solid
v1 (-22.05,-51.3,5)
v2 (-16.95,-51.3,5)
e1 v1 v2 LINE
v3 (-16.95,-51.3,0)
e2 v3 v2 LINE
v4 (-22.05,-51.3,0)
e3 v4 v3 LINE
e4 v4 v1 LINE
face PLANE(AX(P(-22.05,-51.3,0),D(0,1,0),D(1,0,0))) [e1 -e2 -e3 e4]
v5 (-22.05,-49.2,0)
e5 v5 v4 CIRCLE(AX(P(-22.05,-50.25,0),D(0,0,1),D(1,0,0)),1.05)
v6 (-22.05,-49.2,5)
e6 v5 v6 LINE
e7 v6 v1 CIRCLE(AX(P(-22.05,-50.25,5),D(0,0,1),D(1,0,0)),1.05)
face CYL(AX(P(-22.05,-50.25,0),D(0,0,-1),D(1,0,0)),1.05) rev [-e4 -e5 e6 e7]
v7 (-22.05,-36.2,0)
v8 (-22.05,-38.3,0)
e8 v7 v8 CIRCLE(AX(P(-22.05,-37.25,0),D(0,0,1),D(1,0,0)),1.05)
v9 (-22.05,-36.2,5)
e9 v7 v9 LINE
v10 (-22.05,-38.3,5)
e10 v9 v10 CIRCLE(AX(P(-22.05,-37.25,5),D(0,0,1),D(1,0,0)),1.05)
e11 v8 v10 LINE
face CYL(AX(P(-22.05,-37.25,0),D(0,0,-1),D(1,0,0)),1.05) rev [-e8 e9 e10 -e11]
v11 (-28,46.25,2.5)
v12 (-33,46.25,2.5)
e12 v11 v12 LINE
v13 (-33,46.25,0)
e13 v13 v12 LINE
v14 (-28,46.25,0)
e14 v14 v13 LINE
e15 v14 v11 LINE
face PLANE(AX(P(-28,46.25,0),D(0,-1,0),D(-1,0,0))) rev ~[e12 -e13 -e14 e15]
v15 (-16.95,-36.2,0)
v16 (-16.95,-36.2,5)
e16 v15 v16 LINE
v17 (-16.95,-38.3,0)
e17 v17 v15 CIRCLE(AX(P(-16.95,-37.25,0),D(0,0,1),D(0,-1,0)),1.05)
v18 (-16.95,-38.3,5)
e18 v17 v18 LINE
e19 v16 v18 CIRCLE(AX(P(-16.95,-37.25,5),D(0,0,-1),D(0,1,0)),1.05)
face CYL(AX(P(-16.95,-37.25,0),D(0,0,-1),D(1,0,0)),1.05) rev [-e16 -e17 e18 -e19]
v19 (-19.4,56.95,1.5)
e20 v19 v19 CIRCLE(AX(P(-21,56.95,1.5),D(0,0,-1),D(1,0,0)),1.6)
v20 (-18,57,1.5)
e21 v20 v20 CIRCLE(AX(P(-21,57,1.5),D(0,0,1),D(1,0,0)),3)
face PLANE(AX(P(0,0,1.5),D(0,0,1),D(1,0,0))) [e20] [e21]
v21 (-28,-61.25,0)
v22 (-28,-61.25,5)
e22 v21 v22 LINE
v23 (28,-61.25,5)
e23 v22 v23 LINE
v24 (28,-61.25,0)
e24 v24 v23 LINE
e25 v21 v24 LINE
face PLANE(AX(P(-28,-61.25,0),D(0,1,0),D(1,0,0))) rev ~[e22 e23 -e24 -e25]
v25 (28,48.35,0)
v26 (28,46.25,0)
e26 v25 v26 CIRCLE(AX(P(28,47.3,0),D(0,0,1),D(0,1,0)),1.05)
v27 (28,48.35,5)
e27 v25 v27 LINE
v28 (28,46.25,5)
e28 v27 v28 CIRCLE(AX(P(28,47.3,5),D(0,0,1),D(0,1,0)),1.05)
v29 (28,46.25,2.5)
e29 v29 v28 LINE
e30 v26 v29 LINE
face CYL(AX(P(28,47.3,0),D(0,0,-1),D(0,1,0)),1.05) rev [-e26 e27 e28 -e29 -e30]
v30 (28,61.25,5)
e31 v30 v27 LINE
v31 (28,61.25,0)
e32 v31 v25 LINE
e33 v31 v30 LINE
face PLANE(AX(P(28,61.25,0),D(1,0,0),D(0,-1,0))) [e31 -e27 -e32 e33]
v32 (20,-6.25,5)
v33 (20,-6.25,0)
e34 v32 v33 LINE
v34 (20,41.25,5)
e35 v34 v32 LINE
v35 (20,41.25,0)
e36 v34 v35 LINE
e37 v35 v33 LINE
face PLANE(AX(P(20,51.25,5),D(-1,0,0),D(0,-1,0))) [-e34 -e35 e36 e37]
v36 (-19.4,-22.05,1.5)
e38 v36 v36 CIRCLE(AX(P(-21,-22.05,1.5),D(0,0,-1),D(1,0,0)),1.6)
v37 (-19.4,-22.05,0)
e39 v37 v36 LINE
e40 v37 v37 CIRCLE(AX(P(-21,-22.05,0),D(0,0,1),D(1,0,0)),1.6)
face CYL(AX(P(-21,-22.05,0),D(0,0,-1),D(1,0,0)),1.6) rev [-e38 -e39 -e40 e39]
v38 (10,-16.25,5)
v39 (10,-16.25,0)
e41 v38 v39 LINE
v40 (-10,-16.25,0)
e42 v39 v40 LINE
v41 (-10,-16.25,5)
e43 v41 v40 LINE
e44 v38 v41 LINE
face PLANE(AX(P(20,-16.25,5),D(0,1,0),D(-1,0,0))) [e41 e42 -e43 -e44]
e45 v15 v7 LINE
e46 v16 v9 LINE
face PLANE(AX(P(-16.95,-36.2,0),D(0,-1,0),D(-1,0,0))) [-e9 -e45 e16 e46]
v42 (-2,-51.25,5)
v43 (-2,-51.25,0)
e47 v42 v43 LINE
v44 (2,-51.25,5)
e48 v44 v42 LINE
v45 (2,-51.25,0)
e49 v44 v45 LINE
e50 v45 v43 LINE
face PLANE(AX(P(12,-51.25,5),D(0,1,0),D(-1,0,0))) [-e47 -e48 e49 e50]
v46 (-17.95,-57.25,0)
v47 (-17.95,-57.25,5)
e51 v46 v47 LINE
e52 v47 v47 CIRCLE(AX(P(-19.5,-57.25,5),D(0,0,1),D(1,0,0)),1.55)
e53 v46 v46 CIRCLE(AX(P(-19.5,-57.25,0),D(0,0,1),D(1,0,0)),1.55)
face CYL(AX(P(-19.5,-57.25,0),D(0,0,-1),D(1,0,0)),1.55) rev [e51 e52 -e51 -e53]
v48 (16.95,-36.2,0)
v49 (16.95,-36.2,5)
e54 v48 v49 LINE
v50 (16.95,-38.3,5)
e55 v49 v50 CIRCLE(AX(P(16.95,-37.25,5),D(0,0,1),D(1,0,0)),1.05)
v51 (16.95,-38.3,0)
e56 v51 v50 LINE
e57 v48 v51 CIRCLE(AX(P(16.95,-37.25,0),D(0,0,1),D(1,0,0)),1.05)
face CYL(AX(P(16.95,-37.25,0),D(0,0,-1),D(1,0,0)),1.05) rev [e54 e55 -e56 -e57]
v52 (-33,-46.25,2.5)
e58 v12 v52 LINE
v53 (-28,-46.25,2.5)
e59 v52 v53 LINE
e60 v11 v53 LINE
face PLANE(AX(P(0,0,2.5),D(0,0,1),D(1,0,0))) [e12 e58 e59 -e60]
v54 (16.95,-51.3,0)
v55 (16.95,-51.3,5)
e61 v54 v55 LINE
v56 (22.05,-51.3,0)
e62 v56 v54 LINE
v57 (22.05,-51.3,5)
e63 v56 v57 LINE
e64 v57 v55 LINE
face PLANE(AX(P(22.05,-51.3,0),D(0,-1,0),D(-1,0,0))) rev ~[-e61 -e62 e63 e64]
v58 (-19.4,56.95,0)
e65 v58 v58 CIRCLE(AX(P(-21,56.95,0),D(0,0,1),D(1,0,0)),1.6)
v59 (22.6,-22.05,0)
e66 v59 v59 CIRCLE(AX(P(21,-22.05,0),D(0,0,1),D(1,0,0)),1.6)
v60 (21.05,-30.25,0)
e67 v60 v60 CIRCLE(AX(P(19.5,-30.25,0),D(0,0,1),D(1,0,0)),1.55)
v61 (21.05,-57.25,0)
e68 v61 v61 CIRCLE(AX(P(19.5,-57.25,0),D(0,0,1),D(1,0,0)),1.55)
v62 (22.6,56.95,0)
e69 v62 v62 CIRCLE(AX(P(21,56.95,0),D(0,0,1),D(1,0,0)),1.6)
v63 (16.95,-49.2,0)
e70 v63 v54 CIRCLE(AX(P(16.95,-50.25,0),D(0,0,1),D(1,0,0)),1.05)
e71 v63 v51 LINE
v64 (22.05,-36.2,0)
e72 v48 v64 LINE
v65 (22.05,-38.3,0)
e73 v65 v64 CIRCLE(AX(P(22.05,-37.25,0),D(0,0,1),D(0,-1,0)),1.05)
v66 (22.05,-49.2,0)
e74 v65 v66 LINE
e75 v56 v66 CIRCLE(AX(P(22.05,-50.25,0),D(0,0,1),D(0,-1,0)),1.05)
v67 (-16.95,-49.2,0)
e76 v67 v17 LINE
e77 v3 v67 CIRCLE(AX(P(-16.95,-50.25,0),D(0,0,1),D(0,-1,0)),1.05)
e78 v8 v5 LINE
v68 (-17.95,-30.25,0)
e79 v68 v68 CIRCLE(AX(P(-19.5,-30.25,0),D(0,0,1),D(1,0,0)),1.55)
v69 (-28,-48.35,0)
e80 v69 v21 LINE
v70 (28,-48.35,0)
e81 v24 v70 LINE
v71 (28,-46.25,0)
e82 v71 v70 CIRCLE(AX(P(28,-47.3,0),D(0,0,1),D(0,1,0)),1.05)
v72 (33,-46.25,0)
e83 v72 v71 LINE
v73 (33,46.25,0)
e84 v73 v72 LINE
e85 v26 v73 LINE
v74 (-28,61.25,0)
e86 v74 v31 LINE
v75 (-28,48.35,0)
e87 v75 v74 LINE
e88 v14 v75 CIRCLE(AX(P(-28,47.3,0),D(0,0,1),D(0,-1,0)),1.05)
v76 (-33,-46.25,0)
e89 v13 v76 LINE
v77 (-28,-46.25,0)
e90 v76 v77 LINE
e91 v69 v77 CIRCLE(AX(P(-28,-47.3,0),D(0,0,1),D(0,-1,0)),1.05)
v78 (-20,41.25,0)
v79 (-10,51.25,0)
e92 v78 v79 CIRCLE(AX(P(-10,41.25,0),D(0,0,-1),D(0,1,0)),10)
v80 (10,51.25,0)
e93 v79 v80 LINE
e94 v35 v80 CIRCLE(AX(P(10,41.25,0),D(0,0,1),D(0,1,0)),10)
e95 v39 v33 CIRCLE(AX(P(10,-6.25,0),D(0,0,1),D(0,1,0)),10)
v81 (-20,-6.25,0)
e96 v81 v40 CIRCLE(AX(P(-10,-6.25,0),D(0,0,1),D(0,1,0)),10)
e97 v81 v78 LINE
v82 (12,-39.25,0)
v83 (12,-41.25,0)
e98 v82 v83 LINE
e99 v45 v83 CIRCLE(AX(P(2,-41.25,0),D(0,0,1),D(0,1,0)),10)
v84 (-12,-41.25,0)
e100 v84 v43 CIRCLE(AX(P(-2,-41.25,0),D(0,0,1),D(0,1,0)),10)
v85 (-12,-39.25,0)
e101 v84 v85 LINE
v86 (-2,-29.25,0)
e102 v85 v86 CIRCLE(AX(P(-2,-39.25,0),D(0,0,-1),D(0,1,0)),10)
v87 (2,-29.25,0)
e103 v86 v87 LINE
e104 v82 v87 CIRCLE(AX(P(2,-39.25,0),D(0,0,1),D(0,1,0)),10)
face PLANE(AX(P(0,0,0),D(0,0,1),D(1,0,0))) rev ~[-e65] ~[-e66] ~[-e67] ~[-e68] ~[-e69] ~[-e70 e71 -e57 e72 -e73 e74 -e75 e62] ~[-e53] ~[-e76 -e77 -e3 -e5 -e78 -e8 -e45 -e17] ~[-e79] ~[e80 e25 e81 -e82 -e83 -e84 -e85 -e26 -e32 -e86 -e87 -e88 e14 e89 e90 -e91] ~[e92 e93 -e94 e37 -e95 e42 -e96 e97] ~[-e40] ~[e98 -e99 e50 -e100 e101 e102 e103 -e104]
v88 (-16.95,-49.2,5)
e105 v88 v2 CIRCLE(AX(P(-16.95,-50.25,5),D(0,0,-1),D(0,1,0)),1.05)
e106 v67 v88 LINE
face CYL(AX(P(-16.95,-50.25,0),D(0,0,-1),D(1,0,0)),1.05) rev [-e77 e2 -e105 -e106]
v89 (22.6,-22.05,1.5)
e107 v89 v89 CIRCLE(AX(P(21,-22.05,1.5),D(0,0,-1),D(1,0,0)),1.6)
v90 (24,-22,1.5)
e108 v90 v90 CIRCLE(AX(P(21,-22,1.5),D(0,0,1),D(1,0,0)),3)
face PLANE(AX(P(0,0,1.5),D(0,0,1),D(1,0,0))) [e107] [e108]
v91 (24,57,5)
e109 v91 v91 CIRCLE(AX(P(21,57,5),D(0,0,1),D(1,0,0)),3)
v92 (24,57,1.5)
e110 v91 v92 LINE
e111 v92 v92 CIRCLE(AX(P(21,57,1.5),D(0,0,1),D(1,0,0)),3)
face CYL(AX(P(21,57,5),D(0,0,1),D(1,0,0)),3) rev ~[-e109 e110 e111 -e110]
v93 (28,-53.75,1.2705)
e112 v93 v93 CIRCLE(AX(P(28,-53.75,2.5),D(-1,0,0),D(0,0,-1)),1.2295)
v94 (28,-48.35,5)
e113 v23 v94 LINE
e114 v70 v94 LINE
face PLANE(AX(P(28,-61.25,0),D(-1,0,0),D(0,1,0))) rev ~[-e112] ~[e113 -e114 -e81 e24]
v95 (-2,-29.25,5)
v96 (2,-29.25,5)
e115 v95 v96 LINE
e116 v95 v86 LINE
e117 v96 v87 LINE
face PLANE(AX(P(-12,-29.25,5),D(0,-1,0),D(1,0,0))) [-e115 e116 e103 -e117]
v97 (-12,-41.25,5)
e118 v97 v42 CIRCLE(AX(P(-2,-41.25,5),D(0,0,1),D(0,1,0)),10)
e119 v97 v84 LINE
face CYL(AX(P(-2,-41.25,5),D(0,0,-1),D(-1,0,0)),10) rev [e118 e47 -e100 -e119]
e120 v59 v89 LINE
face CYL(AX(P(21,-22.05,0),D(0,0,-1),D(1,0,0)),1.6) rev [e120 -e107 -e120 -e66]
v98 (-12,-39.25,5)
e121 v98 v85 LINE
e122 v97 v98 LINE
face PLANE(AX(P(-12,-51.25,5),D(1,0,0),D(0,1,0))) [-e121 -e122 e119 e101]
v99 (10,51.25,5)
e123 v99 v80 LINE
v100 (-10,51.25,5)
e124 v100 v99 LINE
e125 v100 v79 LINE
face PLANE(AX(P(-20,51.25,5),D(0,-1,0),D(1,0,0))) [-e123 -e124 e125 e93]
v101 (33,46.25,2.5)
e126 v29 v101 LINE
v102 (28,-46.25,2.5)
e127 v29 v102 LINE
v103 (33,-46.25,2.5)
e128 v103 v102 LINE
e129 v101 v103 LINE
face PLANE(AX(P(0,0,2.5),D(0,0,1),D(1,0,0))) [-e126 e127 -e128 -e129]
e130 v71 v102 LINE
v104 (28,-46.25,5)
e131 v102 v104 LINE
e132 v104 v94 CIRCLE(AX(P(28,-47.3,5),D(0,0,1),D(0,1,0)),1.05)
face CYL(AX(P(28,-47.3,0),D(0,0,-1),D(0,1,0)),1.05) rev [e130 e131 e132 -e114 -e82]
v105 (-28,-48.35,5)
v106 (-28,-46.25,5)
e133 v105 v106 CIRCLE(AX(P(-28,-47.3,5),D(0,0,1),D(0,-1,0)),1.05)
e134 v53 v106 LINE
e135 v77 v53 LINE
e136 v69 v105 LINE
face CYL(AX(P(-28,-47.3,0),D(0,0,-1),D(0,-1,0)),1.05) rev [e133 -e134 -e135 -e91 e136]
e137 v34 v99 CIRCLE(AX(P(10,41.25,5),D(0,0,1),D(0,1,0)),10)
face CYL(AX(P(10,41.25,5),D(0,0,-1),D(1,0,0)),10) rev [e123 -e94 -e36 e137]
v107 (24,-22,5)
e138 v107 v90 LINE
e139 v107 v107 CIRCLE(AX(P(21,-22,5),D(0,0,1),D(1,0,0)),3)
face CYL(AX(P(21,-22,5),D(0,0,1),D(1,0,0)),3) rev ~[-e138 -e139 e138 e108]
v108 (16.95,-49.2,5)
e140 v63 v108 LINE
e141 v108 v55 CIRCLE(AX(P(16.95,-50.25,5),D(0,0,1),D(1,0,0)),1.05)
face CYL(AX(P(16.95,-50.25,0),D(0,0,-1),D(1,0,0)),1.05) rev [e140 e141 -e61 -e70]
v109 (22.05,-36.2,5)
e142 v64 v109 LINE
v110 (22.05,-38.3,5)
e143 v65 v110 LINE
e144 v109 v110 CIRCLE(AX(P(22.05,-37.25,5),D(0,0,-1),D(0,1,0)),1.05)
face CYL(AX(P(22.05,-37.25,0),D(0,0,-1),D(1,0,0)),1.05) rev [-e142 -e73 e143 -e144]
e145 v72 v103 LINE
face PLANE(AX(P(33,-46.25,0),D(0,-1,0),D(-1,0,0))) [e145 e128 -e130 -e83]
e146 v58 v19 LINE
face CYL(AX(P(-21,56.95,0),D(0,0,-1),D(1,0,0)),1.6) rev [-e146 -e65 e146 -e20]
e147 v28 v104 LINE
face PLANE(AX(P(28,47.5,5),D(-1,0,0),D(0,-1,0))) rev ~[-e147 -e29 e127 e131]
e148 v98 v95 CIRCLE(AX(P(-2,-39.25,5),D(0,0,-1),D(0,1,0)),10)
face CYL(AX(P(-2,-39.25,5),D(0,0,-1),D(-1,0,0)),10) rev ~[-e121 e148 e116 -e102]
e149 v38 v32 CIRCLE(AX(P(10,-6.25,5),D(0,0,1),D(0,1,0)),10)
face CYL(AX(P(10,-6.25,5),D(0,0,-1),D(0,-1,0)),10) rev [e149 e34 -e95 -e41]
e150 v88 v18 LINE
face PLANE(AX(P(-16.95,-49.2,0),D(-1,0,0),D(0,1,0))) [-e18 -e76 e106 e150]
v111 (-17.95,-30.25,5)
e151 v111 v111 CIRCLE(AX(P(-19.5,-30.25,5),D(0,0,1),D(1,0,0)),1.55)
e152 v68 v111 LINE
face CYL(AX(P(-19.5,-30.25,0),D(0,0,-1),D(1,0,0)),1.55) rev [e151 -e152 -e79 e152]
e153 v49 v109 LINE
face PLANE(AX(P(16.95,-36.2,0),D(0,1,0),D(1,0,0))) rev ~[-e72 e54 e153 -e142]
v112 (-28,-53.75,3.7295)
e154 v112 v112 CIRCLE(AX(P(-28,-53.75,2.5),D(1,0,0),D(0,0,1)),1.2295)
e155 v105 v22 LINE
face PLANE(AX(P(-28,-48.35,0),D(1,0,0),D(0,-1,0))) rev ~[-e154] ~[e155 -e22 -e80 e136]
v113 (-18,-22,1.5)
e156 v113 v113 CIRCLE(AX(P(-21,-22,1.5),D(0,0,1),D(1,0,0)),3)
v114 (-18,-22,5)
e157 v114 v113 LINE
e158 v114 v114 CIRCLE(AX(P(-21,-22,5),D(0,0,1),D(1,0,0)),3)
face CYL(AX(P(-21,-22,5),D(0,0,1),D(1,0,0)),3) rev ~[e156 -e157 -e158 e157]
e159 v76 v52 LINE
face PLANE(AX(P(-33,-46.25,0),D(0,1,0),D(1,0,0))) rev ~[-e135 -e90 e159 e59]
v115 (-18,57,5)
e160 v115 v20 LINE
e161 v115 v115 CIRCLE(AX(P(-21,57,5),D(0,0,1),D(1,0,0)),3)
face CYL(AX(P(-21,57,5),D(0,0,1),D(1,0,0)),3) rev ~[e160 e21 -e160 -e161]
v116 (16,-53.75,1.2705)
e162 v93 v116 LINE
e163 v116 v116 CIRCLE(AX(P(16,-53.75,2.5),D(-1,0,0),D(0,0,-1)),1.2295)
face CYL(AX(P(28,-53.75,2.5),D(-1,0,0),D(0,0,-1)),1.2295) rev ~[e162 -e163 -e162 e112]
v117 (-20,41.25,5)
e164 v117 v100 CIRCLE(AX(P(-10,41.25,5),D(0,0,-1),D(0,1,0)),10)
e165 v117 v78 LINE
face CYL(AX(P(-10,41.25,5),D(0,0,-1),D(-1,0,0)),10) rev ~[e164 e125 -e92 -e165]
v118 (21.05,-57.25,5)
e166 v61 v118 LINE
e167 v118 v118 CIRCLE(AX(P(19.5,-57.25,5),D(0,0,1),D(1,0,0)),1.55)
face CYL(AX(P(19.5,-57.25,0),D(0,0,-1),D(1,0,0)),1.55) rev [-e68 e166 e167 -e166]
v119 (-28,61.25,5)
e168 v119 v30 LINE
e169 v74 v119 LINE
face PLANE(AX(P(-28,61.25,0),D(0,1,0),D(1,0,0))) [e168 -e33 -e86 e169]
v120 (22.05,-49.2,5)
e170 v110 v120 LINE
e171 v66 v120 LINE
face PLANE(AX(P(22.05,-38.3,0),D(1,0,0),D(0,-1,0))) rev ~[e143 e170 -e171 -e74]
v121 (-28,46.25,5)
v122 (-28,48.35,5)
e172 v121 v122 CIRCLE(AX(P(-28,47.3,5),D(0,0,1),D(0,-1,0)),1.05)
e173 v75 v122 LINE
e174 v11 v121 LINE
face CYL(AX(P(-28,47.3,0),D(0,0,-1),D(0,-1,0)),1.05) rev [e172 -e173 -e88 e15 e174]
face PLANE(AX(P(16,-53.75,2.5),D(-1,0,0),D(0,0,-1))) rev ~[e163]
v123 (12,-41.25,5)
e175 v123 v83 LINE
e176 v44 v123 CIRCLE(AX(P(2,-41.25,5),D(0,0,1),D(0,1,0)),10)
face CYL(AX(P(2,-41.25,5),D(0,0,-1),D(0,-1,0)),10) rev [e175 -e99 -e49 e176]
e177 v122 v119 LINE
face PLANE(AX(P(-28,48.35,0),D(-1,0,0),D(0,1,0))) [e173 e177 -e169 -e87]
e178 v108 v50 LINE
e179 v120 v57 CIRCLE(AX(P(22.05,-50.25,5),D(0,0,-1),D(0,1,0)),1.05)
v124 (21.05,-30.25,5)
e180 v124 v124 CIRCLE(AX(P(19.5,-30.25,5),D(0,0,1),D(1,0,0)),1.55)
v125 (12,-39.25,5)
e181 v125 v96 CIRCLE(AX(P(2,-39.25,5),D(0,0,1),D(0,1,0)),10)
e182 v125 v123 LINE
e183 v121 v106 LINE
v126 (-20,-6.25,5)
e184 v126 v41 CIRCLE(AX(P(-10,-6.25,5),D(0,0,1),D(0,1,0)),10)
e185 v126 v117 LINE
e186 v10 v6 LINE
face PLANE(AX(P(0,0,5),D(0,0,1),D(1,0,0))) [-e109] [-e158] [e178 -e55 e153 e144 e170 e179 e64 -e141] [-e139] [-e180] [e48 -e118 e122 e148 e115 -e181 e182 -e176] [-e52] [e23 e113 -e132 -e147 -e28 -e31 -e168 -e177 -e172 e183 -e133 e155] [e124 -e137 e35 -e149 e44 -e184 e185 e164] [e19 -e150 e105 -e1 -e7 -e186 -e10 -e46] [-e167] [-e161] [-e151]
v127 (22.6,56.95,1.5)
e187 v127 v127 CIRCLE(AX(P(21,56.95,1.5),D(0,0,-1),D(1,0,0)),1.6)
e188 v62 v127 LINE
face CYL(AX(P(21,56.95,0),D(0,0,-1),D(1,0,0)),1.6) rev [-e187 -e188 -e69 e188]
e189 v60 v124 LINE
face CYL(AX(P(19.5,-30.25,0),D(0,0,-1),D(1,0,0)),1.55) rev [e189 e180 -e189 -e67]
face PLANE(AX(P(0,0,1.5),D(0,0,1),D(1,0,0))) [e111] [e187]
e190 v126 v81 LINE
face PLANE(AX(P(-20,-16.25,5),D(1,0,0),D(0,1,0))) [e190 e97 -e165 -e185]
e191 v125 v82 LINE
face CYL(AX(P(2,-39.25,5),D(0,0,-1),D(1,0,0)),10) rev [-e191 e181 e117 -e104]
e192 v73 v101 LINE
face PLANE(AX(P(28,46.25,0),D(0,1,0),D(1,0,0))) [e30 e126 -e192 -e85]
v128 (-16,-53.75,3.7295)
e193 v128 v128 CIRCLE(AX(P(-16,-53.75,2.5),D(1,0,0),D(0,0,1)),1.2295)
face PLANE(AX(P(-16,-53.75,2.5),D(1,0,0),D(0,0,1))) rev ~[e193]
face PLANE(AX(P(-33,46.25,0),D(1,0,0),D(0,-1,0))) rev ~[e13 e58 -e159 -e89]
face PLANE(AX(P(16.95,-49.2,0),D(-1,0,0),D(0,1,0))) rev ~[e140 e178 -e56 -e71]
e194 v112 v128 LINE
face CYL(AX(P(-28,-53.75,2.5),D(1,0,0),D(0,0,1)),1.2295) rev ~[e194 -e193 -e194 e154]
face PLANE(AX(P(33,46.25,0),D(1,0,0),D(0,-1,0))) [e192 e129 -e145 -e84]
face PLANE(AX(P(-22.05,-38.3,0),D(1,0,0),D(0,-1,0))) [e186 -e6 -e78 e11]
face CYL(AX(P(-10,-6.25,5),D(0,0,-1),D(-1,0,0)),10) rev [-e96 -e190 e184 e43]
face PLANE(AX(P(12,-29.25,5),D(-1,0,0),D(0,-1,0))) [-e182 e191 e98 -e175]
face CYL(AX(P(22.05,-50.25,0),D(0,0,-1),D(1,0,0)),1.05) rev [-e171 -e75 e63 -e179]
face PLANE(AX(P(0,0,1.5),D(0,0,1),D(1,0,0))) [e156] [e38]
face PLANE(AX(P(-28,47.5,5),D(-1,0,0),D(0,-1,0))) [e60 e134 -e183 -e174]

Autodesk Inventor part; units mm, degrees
ref_plane "YZ Plane" through (0, 0, 0) normal (1, 0, 0) x (0, 1, 0)
ref_plane "XZ Plane" through (0, 0, 0) normal (0, 1, 0) x (-1, 0, 0)
ref_plane "XY Plane" through (0, 0, 0) normal (0, 0, 1) x (1, 0, 0)
sketch "スケッチ1" plane through (0, 0, 0) normal (0, 0, 1) x (1, 0, 0)
  line L0 (-28, -61.25) -> (28, -61.25) construction
  line L1 (28, -61.25) -> (28, 61.25) construction
  line L2 (28, 61.25) -> (-28, 61.25) construction
  line L3 (-28, 61.25) -> (-28, -61.25) construction
  line L4 (-28, -61.25) -> (28, 61.25) construction
  line L5 (28, -61.25) -> (-28, 61.25) construction
  line L6 (-28, 48.35) -> (-28, 61.25)
  line L7 (-28, 61.25) -> (28, 61.25)
  line L8 (28, 61.25) -> (28, 48.35)
  line L9 (-28, 46.25) -> (-33, 46.25)
  line L10 (-33, 46.25) -> (-33, -46.25)
  line L11 (-33, -46.25) -> (-28, -46.25)
  line L12 (-28, -48.35) -> (-28, -61.25)
  line L13 (-28, -61.25) -> (28, -61.25)
  line L14 (28, -61.25) -> (28, -48.35)
  line L15 (28, 46.25) -> (33, 46.25)
  line L16 (33, 46.25) -> (33, -46.25)
  line L17 (33, -46.25) -> (28, -46.25)
  arc A0 (-28, 46.25) -> (-28, 48.35) centre (-28, 47.3) ccw
  arc A1 (-28, -48.35) -> (-28, -46.25) centre (-28, -47.3) ccw
  arc A2 (28, -46.25) -> (28, -48.35) centre (28, -47.3) ccw
  line L18 (0, 0) -> (0, 61.25) construction
  line L19 (0, 0) -> (28, 0) construction
  arc A3 (28, 48.35) -> (28, 46.25) centre (28, 47.3) ccw
  line L20 (-21, 56.95) -> (21, 56.95) construction
  line L21 (21, 56.95) -> (21, -22.05) construction
  line L22 (21, -22.05) -> (-21, -22.05) construction
  line L23 (-21, -22.05) -> (-21, 56.95) construction
  line L24 (-21, 56.95) -> (21, -22.05) construction
  line L25 (21, 56.95) -> (-21, -22.05) construction
  circle A4 centre (-21, 56.95) radius 1.6
  circle A5 centre (-21, -22.05) radius 1.6
  circle A6 centre (21, -22.05) radius 1.6
  circle A7 centre (21, 56.95) radius 1.6
  line L26 (-22, -36.25) -> (-17, -36.25) construction
  line L27 (-17, -36.25) -> (-17, -51.25) construction
  line L28 (-17, -51.25) -> (-22, -51.25) construction
  line L29 (-22, -51.25) -> (-22, -36.25) construction
  circle A8 centre (-19.5, -30.25) radius 1.55
  circle A9 centre (-19.5, -57.25) radius 1.55
  line L30 (-17, -43.75) -> (-22, -43.75) construction
  line L31 (-22, -26.25) -> (-17, -26.25) construction
  line L32 (-17, -26.25) -> (-17, -61.25) construction
  line L33 (-17, -61.25) -> (-22, -61.25) construction
  line L34 (-22, -61.25) -> (-22, -26.25) construction
  circle A10 centre (-19.5, -57.25) radius 3 construction
  line L35 (-16.95, -36.2) -> (-22.05, -36.2)
  line L36 (-22.05, -36.2) -> (-22.05, -51.3)
  line L37 (-22.05, -51.3) -> (-16.95, -51.3)
  line L38 (-16.95, -51.3) -> (-16.95, -36.2)
  circle A11 centre (-22.05, -37.25) radius 1.05
  circle A12 centre (-16.95, -37.25) radius 1.05
  circle A13 centre (-22.05, -50.25) radius 1.05
  circle A14 centre (-16.95, -50.25) radius 1.05
  circle A15 centre (19.5, -30.25) radius 1.55
  circle A16 centre (19.5, -57.25) radius 1.55
  line L39 (16.95, -36.2) -> (22.05, -36.2)
  line L40 (22.05, -36.2) -> (22.05, -51.3)
  line L41 (22.05, -51.3) -> (16.95, -51.3)
  line L42 (16.95, -51.3) -> (16.95, -36.2)
  circle A17 centre (22.05, -37.25) radius 1.05
  circle A18 centre (16.95, -37.25) radius 1.05
  circle A19 centre (22.05, -50.25) radius 1.05
  circle A20 centre (16.95, -50.25) radius 1.05
  point P0 (0, 17.45)
  point P1 (0, 17.45)
  point P2 (0, 0)
  point P3 (-19.5, -43.75)
  point P4 (-19.5, -26.25)
  dimension "d93" = 2.1
  dimension "d9" = 56
  dimension "d12" = 122.5
  dimension "d13" = 15
  dimension "d39" = 15
  dimension "d40" = 1.05
  dimension "d41" = 5
  dimension "d52" = 3.2
  dimension "d53" = 42
  dimension "d54" = 79
  dimension "d55" = 4.3
  dimension "d73" = 35
  dimension "d83" = 5
  dimension "d87" = 3.1
  dimension "d88" = 10
  dimension "d89" = 27
  dimension "d90" = 6
  dimension "d91" = 22
  dimension "d92" = 0.05
extrude "押し出し1" add sketch "スケッチ1" along normal blind 5
sketch "スケッチ2" plane through (0, 0, 5) normal (0, 0, 1) x (1, 0, 0)
  line L0 (-28, 61.25) -> (-28, 48.35) projected
  line L1 (28, 61.25) -> (-28, 61.25) projected
  line L2 (-67.7785, 47.5) -> (-28, 47.5)
  line L3 (-28, 47.5) -> (-28, -47.5)
  line L4 (-28, -47.5) -> (-67.7785, -47.5)
  line L5 (-67.7785, -47.5) -> (-67.7785, 47.5)
  line L6 (67.7785, 47.5) -> (28, 47.5)
  line L7 (28, 47.5) -> (28, -47.5)
  line L8 (28, -47.5) -> (67.7785, -47.5)
  line L9 (67.7785, -47.5) -> (67.7785, 47.5)
  line L10 (0, 0) -> (0, 61.25) construction
  line L11 (0, 0) -> (33, 0) construction
  line L12 (33, 46.25) -> (33, -46.25) construction
  dimension "d106" = 95
extrude "押し出し2" cut sketch "スケッチ2" against normal blind 2.5
sketch "スケッチ4" plane through (0, 0, 5) normal (0, 0, 1) x (1, 0, 0)
  line L0 (28, 61.25) -> (-28, 61.25) projected
  line L1 (-28, 61.25) -> (-28, 48.35) projected
  line L2 (-28, -61.25) -> (28, -61.25) projected
  line L3 (-16.95, -51.3) -> (-22.05, -51.3) projected
  arc A0 (-22.05, -49.2) -> (-22.05, -51.3) centre (-22.05, -50.25) ccw projected
  line L4 (-22.05, -49.2) -> (-22.05, -38.3) projected
  arc A1 (-22.05, -36.2) -> (-22.05, -38.3) centre (-22.05, -37.25) ccw projected
  line L5 (-22.05, -36.2) -> (-16.95, -36.2) projected
  arc A2 (-16.95, -38.3) -> (-16.95, -36.2) centre (-16.95, -37.25) ccw projected
  line L6 (-16.95, -38.3) -> (-16.95, -49.2) projected
  arc A3 (-16.95, -51.3) -> (-16.95, -49.2) centre (-16.95, -50.25) ccw projected
  circle A4 centre (-19.5, -30.25) radius 1.55 projected
  line L7 (-20, 51.25) -> (20, 51.25)
  line L8 (20, 51.25) -> (20, -16.25)
  line L9 (20, -16.25) -> (-20, -16.25)
  line L10 (-20, -16.25) -> (-20, 51.25)
  line L11 (-12, -29.25) -> (12, -29.25)
  line L12 (12, -29.25) -> (12, -51.25)
  line L13 (12, -51.25) -> (-12, -51.25)
  line L14 (-12, -51.25) -> (-12, -29.25)
  line L15 (-16.95, -36.25) -> (-22.05, -36.25) construction
  arc A5 (-22.05, -36.25) -> (-22, -38.2487) centre (-22.05, -37.25) ccw construction
  line L16 (-22, -38.2487) -> (-22, -49.2513) construction
  arc A6 (-22, -49.2513) -> (-22.05, -51.25) centre (-22.05, -50.25) ccw construction
  line L17 (-22.05, -51.25) -> (-16.95, -51.25) construction
  arc A7 (-16.95, -51.25) -> (-17, -49.2513) centre (-16.95, -50.25) ccw construction
  line L18 (-17, -49.2513) -> (-17, -38.2487) construction
  arc A8 (-17, -38.2487) -> (-16.95, -36.25) centre (-16.95, -37.25) ccw construction
  point P0 (0, 0)
  point P1 (0, 51.25)
  point P2 (0, -16.25)
  point P3 (0, -29.25)
  dimension "d94" = 8
  dimension "d95" = 10
  dimension "d96" = 14
  dimension "d97" = 0.05
  dimension "d98" = 5
  dimension "d99" = 10
  dimension "d100" = 13
extrude "押し出し4" cut sketch "スケッチ4" against normal blind 10 contours L7 L8 L9 L10 | L11 L12 L13 L14
fillet "フィレット2" radius 10 8 edges at (-12, -51.25, 2.5) (-12, -29.25, 2.5) (12, -29.25, 2.5) (12, -51.25, 2.5) (-20, -16.25, 2.5) (-20, 51.25, 2.5) (20, 51.25, 2.5) (20, -16.25, 2.5)
sketch "スケッチ6" plane through (0, 0, 5) normal (0, 0, 1) x (1, 0, 0)
  circle A0 centre (-21, 57) radius 3
  circle A1 centre (-21, -22) radius 3
  line L0 (0, 0) -> (0, 20)
  circle A2 centre (21, 57) radius 3
  circle A3 centre (21, -22) radius 3
  dimension "d107" = 6
  dimension "d108" = 6
  dimension "d109" = 79
  dimension "d110" = 57
  dimension "d111" = 21
  dimension "d112" = 20
extrude "押し出し5" cut sketch "スケッチ6" against normal blind 3.5
sketch "スケッチ7" plane through (28, -61.25, 0) normal (1, 0, 0) x (0, 0, -1)
  line L0 (0, 0) -> (-5, 0) projected
  line L1 (-5, 0) -> (-5, 12.9) projected
  point P0 (0, 61.25)
  point P1 (-2.5, 7.5)
  dimension "d115" = 7.5
  dimension "d116" = 5
  dimension "d117" = 2.5
sketch "スケッチ8" plane through (-28, -61.25, 0) normal (-1, 0, 0) x (0, 0, 1)
  line L0 (0, 0) -> (5, 0) projected
  line L1 (5, 12.9) -> (5, 0) projected
  point P0 (0, 61.25)
  point P1 (2.5, 7.5)
  dimension "d118" = 7.5
  dimension "d119" = 2.5
hole "穴1" at (-28, -53.75, 2.5) direction (1, 0, 0) diameter 2.459 depth 12 thread size "M3x0.5" class "6H" standard "ISO Metric profile"
hole "穴2" at (28, -53.75, 2.5) direction (-1, 0, 0) diameter 2.459 depth 12 thread size "M3x0.5" class "6H" standard "ISO Metric profile"
equation "\"d12\" = d19"
equation "\"d13\" = d26"
equation "\"d39\" = d27"
equation "\"d73\" = d1_1_2_3 + 2 * d2_1"
equation "\"d88\" = d2_1"
equation "\"d99\" = d95"
equation "\"d19\" = 122.5"
equation "\"d26\" = 15"
equation "\"d27\" = 15"
equation "\"d1_1_2_3\" = 15"
equation "\"d2_1\" = 10"
properties part number "コックピット_2_サブフレーム_2" material "アセタール樹脂、黒"
